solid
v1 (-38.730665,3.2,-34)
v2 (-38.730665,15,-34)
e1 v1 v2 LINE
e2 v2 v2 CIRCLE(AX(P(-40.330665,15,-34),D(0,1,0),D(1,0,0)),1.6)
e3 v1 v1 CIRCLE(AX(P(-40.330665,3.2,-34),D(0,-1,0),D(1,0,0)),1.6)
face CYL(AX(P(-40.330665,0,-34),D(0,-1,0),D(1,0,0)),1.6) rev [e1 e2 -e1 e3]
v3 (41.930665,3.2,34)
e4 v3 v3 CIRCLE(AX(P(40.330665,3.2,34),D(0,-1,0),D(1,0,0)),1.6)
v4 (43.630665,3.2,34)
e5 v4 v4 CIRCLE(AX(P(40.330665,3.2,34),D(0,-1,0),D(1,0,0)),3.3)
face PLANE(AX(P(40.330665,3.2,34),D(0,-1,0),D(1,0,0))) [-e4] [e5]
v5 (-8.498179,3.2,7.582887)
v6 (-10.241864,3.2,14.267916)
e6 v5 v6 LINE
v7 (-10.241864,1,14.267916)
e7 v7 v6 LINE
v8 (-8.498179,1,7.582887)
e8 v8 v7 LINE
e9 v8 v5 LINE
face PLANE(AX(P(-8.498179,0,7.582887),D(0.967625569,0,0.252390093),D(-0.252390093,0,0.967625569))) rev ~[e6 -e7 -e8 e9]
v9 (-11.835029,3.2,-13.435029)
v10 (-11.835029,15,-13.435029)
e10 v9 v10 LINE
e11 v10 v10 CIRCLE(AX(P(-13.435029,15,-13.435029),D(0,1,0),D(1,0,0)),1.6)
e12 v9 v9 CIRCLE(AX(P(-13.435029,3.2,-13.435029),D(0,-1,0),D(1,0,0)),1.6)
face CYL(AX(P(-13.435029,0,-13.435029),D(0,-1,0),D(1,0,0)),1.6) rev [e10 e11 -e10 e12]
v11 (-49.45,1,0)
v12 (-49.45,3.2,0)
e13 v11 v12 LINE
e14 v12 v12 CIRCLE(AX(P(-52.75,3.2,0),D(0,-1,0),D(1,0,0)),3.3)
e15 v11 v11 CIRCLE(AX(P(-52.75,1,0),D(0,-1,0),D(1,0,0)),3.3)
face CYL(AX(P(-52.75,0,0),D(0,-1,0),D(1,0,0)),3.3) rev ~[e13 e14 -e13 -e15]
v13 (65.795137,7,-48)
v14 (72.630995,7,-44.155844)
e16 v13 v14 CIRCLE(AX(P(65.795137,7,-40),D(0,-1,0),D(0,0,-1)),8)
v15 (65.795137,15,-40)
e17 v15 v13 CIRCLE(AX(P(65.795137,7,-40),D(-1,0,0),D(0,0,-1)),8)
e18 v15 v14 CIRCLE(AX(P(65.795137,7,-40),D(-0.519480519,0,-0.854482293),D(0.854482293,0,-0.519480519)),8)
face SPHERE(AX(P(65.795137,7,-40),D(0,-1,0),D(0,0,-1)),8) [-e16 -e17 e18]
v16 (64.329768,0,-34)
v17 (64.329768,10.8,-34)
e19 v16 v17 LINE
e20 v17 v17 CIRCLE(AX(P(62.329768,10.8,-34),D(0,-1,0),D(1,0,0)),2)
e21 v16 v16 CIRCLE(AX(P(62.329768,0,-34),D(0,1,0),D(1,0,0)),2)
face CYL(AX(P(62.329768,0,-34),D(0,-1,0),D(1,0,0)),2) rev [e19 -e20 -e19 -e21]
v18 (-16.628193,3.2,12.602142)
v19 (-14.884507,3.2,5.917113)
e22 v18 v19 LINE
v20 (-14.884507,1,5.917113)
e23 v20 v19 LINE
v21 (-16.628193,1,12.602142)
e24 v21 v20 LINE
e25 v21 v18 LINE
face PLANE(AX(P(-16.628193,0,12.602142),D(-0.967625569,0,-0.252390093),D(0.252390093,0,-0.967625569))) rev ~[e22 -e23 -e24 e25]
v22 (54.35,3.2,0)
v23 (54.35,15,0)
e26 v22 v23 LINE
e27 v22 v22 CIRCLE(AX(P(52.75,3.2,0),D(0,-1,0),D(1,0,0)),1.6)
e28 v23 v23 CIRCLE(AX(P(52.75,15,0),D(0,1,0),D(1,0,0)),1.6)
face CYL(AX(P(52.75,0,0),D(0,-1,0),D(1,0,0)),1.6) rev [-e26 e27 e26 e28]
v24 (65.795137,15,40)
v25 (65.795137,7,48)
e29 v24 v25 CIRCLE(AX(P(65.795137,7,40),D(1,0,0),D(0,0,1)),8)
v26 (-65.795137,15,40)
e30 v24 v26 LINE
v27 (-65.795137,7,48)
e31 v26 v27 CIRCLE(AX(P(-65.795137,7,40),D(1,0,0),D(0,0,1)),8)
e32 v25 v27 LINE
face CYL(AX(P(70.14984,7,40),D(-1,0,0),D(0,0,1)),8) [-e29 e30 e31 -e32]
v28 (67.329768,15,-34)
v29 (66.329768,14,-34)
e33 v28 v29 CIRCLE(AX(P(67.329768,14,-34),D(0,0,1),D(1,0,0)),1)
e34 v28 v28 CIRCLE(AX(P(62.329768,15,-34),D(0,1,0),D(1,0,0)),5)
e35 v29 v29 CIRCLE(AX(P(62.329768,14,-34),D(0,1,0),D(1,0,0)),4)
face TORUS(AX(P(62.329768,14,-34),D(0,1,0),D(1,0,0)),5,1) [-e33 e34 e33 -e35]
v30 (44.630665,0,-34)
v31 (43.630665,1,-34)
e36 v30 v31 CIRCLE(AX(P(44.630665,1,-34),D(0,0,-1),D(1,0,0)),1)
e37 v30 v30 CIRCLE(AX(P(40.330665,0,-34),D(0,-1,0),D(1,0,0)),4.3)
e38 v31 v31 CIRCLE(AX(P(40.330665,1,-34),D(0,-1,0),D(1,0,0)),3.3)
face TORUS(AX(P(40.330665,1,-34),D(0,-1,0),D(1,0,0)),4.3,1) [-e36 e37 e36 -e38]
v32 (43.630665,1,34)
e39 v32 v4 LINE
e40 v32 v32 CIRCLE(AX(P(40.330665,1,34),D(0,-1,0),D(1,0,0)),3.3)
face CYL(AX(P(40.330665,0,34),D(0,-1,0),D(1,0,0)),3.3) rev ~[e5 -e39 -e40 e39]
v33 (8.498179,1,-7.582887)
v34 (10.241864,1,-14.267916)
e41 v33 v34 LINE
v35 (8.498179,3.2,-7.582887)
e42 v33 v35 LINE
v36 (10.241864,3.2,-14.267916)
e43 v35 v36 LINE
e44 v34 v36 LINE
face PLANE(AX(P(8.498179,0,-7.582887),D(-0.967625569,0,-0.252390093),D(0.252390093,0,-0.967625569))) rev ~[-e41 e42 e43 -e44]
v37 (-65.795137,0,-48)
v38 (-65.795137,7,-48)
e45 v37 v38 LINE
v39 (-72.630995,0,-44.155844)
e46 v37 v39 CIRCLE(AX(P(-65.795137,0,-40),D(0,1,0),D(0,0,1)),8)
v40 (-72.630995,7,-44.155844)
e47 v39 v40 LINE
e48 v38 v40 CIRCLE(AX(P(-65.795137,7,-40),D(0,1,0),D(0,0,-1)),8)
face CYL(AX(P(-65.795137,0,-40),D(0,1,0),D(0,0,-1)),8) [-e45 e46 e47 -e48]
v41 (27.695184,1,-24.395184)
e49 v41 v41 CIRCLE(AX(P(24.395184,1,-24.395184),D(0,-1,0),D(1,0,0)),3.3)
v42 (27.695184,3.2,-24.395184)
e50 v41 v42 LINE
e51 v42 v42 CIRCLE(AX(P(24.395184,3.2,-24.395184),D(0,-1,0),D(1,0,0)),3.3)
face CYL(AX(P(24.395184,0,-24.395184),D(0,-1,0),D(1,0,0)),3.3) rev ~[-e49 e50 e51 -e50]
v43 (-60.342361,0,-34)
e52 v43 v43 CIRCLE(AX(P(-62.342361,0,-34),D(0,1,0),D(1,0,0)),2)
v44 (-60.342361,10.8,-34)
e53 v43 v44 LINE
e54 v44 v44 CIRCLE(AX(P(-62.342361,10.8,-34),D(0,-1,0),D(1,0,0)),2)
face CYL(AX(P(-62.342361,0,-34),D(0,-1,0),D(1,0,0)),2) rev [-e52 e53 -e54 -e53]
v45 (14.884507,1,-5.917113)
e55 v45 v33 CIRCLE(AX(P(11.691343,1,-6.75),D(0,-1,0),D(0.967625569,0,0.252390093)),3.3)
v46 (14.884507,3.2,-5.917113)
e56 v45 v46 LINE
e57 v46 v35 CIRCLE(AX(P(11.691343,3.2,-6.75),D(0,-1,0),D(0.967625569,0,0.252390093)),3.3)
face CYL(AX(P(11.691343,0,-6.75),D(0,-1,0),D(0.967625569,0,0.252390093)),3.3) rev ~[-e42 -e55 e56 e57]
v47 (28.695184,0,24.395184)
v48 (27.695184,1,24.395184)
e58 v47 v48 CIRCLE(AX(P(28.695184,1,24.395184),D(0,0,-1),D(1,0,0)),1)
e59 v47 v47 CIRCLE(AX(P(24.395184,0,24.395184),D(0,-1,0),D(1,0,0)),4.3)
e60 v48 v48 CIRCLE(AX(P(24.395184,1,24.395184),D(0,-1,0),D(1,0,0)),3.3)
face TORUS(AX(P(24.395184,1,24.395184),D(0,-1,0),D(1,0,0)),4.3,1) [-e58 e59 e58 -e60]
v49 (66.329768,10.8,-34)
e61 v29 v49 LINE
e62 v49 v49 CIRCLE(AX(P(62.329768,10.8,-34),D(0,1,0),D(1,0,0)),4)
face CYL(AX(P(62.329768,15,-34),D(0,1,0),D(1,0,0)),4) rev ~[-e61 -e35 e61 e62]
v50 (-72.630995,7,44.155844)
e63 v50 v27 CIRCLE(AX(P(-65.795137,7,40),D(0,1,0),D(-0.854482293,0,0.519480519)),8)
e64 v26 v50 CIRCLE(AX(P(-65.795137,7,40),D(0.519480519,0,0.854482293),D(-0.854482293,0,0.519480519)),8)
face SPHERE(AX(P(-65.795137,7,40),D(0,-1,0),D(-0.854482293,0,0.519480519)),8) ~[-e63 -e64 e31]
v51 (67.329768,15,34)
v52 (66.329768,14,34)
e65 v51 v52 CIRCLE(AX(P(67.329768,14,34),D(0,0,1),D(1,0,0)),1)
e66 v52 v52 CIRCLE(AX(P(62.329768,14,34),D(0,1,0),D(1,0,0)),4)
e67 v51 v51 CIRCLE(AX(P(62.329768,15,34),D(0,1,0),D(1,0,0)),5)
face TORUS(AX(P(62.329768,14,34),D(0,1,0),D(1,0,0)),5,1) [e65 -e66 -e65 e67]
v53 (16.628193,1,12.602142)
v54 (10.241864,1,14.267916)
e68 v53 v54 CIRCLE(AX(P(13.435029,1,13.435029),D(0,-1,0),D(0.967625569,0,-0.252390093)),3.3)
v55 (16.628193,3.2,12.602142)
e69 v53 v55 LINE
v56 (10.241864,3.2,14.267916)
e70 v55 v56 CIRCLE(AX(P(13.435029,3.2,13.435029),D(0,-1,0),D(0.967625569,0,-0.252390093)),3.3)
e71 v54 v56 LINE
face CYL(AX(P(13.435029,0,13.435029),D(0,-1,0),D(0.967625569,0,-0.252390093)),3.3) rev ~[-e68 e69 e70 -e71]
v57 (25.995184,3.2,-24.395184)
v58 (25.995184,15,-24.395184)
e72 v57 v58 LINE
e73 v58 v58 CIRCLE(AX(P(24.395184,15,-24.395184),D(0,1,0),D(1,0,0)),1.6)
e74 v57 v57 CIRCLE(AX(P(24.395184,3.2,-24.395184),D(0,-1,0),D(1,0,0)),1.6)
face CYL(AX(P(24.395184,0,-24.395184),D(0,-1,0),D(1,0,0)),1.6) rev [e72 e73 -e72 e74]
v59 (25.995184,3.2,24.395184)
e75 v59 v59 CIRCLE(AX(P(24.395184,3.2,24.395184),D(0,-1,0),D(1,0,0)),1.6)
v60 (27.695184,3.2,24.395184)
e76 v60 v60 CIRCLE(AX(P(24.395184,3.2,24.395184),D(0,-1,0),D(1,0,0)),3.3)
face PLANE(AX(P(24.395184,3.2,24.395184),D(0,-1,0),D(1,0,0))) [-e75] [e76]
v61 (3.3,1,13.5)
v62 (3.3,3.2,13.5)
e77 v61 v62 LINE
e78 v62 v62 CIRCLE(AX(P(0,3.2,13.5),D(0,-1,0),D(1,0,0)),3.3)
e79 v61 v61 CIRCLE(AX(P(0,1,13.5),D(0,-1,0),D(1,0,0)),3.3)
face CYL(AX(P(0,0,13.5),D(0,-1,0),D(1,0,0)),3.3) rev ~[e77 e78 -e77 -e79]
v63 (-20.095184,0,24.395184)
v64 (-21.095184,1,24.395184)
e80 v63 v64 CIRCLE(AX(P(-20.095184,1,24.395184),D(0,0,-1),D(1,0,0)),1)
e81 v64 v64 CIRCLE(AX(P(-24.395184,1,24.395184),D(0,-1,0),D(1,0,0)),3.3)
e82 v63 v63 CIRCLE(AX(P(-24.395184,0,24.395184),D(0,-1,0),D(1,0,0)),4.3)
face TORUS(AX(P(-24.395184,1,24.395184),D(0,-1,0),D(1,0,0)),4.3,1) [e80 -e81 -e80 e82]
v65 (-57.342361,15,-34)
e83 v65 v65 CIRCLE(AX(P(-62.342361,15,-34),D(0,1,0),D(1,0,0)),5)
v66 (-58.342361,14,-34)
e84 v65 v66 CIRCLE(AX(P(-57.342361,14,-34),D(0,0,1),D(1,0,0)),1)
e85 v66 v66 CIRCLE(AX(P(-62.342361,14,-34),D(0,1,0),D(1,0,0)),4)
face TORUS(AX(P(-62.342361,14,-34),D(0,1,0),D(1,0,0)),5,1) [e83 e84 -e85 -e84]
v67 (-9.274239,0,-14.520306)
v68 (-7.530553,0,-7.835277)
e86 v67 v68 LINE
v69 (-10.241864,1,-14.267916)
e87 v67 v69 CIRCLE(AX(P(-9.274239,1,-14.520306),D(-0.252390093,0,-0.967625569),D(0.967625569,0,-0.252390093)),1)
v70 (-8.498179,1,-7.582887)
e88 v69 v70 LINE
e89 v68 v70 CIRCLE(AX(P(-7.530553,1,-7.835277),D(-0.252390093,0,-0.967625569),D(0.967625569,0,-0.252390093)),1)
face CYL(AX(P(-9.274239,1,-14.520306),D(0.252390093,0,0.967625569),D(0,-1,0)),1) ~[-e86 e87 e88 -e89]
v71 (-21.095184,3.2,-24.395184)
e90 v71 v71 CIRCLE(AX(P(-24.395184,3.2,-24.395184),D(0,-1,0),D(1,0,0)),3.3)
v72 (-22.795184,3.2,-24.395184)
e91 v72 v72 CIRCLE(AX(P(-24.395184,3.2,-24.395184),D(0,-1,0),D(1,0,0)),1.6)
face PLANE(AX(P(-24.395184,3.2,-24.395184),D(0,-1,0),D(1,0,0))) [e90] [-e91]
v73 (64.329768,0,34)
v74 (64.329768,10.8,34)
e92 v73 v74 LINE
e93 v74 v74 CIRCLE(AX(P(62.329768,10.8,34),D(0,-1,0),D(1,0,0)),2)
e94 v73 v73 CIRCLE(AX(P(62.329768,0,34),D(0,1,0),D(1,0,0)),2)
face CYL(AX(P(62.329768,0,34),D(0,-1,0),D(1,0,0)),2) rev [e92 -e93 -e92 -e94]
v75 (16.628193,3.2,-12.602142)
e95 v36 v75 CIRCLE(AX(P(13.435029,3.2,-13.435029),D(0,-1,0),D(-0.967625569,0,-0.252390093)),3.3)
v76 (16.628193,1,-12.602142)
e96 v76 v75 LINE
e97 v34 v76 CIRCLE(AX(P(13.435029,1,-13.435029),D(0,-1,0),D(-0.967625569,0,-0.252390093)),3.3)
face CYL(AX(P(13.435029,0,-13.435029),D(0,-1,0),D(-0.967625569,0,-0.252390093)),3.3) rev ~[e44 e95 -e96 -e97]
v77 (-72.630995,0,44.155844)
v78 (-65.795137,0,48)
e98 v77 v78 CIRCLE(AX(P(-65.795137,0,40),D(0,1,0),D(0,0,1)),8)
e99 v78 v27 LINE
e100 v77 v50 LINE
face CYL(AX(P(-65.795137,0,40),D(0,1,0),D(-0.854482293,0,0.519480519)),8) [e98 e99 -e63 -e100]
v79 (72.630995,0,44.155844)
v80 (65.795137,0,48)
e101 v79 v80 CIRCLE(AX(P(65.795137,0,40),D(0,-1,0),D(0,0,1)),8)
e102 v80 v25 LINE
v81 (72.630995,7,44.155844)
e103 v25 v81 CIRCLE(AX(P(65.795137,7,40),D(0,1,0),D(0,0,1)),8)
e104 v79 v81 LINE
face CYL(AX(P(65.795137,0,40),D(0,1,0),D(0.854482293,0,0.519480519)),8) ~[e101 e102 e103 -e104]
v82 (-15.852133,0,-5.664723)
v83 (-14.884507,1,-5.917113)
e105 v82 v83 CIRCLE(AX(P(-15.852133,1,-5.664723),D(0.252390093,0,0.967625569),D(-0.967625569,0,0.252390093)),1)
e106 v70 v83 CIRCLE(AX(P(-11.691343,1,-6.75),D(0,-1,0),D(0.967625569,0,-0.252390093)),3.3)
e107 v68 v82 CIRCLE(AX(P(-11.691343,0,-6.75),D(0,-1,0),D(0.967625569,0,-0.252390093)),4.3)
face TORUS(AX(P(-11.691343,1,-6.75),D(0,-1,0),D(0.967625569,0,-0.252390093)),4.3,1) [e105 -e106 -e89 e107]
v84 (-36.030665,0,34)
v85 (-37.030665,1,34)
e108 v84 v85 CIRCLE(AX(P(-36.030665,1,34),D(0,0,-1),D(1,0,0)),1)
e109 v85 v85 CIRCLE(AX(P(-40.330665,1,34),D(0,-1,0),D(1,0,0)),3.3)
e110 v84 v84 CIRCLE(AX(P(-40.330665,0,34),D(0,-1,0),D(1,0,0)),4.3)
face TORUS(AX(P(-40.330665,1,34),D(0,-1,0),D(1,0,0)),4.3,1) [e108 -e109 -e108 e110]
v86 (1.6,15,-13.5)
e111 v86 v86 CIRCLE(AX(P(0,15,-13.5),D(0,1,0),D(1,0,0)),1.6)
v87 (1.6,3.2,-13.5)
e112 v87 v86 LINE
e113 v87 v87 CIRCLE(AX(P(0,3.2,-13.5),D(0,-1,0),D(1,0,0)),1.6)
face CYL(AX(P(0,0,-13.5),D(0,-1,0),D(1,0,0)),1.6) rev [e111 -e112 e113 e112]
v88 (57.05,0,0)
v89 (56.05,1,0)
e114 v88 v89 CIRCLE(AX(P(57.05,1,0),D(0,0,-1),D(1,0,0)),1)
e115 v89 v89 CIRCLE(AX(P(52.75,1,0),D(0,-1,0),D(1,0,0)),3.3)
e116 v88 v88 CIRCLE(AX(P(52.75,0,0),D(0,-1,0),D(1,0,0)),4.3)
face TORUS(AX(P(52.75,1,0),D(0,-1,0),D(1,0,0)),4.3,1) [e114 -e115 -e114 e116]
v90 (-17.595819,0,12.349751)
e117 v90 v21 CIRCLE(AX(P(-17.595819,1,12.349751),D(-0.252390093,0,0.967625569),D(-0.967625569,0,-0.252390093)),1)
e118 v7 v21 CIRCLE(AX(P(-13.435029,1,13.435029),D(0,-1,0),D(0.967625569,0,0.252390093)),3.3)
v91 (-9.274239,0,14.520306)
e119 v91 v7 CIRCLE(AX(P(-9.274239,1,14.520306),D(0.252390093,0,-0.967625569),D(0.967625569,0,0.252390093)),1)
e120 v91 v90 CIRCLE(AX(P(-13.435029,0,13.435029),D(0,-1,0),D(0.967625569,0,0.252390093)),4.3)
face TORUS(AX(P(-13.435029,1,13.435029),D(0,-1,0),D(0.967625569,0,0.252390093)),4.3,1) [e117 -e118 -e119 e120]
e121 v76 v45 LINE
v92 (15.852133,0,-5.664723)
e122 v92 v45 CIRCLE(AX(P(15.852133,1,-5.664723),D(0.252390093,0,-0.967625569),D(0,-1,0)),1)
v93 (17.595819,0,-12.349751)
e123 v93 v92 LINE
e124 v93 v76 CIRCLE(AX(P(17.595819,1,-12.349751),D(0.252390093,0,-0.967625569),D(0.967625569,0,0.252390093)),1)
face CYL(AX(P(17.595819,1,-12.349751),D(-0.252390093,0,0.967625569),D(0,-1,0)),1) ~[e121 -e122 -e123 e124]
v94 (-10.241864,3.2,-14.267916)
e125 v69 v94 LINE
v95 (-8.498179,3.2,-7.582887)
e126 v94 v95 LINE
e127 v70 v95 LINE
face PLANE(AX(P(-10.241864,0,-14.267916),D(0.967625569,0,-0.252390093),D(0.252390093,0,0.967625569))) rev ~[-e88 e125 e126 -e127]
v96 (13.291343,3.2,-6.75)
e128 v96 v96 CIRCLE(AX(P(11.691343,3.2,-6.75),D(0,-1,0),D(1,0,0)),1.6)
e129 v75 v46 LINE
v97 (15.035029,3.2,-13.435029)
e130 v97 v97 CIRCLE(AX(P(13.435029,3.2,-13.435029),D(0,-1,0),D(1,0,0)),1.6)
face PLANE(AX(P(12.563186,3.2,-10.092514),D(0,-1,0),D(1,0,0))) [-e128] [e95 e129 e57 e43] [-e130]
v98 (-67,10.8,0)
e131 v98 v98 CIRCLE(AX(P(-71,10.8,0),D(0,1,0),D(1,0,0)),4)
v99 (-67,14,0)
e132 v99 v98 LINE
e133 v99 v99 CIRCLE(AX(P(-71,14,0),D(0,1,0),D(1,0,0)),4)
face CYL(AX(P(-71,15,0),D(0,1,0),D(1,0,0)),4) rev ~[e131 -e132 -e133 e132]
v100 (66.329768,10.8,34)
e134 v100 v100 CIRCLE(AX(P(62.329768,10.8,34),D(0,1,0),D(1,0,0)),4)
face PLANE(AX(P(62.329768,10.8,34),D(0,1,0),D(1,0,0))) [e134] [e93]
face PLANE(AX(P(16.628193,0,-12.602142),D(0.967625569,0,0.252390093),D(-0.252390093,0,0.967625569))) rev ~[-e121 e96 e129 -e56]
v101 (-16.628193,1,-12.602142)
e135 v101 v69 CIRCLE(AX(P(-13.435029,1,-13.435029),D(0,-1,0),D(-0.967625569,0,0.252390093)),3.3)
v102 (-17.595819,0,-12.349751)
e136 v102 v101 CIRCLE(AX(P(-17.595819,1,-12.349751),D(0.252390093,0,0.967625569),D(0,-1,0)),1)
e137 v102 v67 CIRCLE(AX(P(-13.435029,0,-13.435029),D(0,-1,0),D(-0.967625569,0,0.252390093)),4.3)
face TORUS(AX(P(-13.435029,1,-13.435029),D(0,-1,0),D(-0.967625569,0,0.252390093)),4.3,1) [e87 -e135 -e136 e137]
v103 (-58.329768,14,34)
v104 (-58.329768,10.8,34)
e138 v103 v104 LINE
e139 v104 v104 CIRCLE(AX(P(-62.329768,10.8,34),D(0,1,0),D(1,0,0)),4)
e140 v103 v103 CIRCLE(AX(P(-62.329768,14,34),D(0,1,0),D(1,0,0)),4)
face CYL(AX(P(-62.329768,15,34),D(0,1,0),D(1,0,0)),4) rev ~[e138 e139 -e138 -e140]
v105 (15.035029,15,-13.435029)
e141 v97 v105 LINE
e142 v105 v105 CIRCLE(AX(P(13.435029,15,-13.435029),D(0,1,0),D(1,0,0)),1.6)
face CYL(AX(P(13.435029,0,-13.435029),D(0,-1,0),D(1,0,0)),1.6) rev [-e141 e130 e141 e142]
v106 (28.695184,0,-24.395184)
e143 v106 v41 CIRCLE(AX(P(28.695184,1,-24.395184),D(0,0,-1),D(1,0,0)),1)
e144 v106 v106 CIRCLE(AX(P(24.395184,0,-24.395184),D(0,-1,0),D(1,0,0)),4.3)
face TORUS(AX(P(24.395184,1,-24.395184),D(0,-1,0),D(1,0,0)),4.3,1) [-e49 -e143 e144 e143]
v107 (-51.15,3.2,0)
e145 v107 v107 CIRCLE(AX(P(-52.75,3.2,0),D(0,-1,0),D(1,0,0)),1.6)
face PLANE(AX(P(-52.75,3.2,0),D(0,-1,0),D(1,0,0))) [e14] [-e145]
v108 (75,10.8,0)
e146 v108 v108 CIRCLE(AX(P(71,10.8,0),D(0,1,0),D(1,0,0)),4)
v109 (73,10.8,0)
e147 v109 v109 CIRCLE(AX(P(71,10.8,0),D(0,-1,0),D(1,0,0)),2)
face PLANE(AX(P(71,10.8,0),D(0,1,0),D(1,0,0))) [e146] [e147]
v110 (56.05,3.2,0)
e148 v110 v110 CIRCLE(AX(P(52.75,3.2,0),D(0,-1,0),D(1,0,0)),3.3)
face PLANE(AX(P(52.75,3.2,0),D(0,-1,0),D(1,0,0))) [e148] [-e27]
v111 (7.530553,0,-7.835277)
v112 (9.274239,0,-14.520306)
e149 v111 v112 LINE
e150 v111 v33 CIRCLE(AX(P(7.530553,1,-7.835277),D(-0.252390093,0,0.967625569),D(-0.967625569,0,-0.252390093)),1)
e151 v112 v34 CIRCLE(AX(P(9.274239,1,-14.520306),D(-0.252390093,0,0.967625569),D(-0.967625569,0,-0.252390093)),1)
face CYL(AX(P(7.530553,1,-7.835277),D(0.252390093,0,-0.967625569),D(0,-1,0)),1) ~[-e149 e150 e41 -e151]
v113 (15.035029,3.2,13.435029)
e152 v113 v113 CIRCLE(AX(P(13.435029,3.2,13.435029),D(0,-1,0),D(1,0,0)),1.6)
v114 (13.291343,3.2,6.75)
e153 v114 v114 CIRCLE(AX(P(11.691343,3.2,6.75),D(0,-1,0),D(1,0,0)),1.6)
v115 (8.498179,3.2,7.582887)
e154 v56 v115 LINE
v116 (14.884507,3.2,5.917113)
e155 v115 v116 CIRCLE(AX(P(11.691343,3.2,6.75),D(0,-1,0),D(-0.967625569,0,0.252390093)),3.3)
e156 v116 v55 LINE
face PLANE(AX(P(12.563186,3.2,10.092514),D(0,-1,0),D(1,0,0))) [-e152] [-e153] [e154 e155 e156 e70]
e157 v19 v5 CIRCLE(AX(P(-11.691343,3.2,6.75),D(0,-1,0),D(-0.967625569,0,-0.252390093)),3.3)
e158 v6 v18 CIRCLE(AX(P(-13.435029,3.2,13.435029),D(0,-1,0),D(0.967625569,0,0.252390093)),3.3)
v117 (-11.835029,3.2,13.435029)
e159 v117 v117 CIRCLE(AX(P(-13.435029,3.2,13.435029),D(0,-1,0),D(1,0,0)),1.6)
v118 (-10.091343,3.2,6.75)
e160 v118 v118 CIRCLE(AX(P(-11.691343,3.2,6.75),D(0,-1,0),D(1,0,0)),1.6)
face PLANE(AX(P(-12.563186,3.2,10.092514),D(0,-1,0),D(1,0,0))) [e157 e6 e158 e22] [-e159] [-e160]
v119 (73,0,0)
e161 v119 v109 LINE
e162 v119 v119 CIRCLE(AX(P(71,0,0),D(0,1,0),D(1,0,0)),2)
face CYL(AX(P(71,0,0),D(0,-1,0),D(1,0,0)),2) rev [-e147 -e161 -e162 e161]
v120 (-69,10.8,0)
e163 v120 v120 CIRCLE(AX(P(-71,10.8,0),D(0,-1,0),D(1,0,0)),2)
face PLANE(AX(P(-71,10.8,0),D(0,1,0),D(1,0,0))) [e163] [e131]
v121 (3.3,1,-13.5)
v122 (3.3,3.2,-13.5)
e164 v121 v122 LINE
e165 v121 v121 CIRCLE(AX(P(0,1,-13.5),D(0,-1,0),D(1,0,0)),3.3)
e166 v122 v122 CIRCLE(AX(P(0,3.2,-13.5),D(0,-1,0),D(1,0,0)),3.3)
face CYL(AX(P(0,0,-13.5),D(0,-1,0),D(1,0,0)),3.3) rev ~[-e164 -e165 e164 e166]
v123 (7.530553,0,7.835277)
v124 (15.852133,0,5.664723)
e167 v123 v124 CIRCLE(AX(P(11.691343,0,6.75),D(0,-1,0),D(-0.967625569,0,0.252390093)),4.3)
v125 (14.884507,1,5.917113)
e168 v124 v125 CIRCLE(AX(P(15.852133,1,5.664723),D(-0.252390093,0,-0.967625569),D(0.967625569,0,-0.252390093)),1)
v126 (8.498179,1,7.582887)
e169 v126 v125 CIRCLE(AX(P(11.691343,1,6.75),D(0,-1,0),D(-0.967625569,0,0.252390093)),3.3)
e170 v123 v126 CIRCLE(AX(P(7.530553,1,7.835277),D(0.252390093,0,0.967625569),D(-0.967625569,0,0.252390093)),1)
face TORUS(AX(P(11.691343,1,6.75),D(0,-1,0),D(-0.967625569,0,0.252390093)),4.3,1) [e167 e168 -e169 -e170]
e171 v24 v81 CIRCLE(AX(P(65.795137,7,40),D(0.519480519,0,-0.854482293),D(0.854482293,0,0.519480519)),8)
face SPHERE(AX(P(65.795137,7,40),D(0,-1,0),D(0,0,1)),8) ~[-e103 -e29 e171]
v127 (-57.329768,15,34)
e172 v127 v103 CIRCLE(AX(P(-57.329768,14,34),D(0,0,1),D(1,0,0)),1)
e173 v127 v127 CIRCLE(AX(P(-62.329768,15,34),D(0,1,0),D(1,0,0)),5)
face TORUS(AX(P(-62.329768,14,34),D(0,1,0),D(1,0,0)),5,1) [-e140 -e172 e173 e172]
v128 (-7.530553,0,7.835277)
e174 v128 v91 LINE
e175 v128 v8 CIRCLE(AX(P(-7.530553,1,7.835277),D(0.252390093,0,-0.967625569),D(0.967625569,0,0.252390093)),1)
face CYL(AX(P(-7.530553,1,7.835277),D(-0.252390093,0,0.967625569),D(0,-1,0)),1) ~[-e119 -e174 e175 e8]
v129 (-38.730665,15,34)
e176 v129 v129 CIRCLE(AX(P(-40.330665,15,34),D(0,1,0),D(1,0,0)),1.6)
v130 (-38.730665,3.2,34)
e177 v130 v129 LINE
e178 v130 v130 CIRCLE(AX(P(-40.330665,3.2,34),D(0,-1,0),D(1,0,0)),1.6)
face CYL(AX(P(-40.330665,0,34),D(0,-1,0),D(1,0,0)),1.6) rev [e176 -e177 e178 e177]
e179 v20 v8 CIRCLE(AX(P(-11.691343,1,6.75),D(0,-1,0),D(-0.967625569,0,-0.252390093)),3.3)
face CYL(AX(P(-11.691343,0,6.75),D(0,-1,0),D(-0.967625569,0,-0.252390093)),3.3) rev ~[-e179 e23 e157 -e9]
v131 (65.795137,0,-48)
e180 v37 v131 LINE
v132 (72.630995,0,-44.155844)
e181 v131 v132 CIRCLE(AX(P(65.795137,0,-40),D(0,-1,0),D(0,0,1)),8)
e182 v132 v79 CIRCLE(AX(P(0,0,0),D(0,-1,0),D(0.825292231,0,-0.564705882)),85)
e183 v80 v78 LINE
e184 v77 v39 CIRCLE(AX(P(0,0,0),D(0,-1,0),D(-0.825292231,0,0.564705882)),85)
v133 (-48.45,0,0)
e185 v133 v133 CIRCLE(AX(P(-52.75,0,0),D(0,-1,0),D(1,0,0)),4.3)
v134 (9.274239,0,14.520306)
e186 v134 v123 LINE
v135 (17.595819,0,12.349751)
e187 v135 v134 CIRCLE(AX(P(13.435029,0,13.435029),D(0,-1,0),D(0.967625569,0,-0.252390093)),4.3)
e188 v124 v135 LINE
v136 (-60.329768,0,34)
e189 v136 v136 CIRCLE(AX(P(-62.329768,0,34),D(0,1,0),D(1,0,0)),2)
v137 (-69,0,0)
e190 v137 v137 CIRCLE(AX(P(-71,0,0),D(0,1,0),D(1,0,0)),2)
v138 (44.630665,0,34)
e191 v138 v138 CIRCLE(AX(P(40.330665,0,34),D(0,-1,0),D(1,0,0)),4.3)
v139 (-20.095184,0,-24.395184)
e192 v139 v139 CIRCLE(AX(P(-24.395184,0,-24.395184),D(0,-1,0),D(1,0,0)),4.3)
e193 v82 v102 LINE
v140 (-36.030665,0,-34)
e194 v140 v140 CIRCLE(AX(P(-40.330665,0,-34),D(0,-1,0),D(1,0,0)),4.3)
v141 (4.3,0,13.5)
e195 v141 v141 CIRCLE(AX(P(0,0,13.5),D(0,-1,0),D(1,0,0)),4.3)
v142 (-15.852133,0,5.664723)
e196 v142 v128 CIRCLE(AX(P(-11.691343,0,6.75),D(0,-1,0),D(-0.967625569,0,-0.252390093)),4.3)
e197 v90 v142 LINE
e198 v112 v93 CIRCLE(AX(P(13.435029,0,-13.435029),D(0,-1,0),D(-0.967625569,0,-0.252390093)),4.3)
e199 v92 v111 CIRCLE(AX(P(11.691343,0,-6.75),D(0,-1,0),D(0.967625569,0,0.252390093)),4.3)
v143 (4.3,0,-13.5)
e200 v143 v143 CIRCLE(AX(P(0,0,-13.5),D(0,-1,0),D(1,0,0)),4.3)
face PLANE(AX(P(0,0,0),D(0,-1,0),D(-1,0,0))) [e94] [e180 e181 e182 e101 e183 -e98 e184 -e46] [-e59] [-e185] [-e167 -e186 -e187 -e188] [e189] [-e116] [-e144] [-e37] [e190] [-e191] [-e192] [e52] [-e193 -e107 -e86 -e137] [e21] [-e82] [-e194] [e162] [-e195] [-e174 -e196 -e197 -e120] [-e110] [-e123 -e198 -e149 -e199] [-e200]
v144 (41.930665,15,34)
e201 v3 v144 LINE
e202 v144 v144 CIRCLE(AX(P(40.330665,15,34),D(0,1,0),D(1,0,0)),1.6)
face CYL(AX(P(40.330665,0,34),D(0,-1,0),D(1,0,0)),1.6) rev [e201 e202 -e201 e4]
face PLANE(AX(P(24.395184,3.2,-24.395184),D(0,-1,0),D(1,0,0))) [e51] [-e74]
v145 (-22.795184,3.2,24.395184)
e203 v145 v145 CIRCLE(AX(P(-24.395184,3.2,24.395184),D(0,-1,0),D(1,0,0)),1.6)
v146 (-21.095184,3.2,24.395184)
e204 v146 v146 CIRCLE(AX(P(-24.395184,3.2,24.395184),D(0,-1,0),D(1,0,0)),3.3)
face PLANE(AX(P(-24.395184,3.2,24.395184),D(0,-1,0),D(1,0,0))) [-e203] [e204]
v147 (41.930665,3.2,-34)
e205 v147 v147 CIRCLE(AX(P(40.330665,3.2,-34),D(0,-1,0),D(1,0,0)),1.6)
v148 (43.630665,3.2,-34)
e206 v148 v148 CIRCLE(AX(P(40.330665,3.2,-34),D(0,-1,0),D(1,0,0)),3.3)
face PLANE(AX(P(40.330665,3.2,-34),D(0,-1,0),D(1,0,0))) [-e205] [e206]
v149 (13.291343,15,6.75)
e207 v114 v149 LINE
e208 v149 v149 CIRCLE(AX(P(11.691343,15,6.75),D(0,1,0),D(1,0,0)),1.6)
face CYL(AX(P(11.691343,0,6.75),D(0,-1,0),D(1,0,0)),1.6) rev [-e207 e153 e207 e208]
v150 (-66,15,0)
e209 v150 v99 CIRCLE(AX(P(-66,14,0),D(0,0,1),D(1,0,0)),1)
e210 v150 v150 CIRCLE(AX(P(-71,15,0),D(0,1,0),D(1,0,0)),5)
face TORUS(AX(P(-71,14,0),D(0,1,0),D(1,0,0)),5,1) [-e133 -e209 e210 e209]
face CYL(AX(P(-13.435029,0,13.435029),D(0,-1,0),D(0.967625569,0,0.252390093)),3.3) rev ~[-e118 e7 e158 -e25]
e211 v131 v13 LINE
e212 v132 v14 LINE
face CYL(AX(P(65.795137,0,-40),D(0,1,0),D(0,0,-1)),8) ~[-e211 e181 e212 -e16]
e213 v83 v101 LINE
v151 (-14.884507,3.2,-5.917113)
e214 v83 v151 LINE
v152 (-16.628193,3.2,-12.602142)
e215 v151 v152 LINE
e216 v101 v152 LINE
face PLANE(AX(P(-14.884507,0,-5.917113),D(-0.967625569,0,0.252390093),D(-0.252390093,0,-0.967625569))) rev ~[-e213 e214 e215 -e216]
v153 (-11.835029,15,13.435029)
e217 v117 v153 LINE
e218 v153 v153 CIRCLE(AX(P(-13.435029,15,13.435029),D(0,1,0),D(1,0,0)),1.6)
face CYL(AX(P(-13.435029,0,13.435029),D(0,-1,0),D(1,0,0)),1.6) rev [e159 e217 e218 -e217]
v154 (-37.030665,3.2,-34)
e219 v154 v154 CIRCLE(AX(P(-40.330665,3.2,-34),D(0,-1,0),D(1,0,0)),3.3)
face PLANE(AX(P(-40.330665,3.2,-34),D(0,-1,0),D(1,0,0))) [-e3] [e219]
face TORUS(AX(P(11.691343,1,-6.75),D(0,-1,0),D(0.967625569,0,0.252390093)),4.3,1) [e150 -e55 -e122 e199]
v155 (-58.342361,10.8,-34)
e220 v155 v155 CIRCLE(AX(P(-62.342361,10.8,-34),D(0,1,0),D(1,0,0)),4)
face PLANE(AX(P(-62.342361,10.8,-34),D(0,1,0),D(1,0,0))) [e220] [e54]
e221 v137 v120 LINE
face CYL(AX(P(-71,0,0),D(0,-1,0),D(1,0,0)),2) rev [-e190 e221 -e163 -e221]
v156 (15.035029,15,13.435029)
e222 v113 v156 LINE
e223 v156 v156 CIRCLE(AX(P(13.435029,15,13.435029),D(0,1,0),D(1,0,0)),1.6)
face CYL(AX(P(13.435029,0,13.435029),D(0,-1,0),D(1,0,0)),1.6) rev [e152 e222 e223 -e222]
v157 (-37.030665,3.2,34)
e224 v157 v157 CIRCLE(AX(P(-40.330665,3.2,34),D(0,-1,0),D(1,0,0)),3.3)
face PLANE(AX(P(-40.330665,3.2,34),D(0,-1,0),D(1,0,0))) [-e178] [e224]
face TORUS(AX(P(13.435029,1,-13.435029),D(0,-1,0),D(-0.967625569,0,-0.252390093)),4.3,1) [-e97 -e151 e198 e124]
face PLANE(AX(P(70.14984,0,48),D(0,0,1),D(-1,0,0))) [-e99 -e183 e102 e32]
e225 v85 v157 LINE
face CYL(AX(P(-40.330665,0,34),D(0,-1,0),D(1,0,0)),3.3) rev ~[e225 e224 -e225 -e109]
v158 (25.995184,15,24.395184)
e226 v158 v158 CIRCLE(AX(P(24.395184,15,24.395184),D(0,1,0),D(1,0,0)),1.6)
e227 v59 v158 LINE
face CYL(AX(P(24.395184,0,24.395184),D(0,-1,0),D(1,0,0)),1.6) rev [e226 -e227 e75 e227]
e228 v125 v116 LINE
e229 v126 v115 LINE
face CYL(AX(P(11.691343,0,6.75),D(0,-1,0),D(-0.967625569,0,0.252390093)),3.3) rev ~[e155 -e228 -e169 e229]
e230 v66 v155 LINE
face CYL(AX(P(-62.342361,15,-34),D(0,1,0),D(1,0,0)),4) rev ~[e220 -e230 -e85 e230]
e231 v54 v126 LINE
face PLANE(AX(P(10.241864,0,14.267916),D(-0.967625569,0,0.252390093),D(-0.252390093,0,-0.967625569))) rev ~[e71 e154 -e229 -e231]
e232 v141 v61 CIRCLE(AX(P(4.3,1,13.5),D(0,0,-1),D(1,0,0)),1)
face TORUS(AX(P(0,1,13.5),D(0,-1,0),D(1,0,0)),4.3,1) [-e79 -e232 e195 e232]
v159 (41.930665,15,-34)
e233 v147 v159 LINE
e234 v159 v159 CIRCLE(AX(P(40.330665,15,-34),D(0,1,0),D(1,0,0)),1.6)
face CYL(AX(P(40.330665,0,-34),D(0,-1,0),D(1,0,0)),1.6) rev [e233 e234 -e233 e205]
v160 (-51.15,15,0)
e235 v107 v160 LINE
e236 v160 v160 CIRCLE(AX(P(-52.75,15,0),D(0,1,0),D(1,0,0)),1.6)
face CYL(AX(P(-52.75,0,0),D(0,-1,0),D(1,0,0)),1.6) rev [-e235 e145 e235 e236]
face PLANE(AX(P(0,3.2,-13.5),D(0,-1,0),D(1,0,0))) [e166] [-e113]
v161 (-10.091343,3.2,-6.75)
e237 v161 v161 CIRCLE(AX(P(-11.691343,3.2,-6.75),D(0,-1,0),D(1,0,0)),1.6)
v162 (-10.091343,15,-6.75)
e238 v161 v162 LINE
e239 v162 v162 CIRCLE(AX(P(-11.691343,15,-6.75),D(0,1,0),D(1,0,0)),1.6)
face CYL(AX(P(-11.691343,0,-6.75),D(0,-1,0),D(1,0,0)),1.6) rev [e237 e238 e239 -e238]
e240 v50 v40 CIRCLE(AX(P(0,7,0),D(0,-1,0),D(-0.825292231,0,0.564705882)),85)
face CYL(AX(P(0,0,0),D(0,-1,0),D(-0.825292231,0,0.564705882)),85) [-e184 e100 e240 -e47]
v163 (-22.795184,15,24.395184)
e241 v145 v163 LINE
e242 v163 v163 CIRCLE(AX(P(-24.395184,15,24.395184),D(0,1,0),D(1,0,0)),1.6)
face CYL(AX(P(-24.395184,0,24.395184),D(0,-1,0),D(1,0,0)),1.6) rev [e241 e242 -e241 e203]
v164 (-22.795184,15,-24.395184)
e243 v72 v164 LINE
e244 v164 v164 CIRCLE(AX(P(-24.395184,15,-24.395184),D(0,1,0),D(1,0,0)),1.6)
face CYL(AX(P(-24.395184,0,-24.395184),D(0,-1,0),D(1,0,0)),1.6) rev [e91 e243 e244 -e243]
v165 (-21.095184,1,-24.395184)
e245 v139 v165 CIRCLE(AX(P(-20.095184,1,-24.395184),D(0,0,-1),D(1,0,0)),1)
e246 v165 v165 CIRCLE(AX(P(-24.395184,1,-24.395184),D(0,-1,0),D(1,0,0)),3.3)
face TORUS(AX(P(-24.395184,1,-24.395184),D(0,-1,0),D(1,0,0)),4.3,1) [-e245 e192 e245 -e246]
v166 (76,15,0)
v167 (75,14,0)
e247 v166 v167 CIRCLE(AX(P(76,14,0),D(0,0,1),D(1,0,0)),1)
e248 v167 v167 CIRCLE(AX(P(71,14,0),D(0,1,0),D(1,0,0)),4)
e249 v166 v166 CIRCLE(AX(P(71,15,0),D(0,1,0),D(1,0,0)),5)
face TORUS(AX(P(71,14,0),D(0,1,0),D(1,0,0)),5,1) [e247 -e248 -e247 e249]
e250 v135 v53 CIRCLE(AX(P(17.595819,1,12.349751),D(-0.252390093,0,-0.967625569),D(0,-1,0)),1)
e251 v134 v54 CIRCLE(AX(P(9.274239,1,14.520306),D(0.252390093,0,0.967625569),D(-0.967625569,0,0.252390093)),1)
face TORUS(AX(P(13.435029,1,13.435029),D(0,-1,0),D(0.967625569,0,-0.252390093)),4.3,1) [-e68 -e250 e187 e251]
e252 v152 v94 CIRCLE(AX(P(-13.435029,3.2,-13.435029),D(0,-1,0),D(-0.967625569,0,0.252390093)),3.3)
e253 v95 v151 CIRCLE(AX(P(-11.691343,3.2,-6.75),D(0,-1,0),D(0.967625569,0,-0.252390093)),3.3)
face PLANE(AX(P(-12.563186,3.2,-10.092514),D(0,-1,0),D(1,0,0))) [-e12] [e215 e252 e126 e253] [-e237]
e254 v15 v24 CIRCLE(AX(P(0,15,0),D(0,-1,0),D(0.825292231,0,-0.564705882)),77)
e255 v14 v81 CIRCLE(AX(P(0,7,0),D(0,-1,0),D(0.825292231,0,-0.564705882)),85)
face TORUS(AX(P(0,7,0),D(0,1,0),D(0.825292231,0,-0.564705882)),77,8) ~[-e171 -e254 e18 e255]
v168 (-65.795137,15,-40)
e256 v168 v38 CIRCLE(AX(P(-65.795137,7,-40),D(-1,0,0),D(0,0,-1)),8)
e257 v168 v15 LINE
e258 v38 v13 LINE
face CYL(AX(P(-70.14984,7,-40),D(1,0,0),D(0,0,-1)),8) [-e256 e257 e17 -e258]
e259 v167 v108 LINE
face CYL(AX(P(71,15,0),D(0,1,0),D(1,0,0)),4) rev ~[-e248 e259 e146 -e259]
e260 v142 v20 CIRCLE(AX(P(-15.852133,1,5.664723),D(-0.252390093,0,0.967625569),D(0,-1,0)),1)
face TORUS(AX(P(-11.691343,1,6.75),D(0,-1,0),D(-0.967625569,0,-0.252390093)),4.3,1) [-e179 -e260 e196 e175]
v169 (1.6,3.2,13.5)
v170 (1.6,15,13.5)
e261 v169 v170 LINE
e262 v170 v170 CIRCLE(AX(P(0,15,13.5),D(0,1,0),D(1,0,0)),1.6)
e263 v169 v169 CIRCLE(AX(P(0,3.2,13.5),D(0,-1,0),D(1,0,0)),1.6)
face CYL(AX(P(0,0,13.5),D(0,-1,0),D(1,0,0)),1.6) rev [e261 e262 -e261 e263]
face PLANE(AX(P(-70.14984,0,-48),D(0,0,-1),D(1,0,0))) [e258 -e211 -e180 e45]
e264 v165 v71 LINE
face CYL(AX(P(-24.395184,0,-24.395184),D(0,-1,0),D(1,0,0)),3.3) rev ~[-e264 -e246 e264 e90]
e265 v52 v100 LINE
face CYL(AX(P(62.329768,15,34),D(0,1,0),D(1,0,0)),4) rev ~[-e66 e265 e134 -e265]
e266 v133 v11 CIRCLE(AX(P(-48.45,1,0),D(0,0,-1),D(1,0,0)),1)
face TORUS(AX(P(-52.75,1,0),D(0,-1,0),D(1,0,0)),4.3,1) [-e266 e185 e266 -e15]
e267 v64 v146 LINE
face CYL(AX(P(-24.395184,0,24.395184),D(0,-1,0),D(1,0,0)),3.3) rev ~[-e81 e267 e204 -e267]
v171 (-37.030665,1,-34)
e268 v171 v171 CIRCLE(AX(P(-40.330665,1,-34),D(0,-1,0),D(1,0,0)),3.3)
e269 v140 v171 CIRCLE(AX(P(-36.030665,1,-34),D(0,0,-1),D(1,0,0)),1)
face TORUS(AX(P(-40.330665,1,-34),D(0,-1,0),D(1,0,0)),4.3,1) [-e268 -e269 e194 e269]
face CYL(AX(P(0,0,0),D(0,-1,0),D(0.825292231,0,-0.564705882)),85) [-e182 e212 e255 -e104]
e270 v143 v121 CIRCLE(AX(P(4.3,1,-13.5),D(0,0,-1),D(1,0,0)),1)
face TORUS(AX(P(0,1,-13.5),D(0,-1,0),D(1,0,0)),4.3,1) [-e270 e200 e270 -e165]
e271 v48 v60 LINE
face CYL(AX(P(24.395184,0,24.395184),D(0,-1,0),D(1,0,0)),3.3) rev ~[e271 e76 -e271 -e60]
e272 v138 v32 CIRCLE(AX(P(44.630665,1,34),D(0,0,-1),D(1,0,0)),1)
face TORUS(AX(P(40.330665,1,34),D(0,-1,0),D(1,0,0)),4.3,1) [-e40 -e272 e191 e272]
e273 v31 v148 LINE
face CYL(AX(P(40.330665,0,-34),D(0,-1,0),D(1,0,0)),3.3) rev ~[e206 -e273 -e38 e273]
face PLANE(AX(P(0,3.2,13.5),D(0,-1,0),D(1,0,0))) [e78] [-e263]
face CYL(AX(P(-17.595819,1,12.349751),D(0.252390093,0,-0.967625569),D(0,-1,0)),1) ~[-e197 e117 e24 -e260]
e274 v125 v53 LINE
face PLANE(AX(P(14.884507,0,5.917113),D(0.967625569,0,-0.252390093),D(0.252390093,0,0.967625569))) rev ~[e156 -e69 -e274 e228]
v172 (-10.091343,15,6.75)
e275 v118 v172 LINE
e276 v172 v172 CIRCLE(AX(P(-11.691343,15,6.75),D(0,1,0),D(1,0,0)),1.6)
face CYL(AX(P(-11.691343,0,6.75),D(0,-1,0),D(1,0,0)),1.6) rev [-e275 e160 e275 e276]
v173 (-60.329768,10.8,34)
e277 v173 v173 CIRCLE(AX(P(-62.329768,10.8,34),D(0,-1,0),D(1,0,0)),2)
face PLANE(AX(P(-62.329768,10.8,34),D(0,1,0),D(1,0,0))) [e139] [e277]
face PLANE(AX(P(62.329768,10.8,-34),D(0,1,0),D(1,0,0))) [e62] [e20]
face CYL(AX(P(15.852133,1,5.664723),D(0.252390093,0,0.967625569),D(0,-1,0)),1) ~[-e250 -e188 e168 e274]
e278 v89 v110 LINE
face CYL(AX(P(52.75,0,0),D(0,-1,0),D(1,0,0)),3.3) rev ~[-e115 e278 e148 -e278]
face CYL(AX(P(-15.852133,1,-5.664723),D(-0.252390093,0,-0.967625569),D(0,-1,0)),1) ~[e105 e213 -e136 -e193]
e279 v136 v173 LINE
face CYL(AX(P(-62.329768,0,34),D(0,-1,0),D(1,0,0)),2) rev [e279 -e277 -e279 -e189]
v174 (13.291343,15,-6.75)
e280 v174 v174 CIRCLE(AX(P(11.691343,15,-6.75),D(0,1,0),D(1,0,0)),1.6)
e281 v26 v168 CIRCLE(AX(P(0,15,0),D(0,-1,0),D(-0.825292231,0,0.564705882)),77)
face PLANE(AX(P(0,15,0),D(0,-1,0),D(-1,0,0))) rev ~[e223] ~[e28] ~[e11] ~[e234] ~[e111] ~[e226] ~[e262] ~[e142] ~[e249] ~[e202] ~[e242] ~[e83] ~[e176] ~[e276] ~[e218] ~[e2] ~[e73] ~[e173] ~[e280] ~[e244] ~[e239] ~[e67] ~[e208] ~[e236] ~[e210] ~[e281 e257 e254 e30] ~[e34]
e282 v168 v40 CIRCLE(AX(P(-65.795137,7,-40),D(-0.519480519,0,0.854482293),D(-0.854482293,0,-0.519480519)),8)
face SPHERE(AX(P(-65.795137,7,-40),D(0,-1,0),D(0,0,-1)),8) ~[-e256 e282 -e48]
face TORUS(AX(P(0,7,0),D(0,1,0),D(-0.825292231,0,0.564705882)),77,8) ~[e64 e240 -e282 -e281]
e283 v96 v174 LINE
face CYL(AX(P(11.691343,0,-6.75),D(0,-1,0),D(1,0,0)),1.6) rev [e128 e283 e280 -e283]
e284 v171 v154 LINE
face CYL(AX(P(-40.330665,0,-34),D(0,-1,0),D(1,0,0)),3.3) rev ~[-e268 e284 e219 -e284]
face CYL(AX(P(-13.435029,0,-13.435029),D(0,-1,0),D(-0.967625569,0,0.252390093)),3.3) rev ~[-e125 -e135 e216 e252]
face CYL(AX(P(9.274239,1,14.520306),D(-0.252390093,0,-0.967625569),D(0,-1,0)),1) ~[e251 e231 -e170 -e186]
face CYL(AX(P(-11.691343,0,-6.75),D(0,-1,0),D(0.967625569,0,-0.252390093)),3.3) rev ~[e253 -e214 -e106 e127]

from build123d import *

# Parameters (mm, degrees)
SKETCH_1_R          = 1.6
SKETCH_1_R_2        = 2
EXTRUDE_1_DEPTH     = 15
FILLET_1_R          = 8
SKETCH_2_R          = 4
CUT_EXTRUDE_1_DEPTH = 4.2
SKETCH_3_R          = 3.3
CUT_EXTRUDE_2_DEPTH = 3.2
FILLET_2_R          = 1


with BuildPart() as part:
    # 草图1 → 凸台-拉伸1 (new body)
    with BuildSketch(Plane(origin=(0, 0, 0), x_dir=(1, 0, 0), z_dir=(0, 1, 0))):
        with BuildLine():
            Line((-70.149839629, 48), (70.149839629, 48))
            ThreePointArc((70.149839629, 48), (85, 0), (70.149839629, -48))
            Line((70.149839629, -48), (-70.149839629, -48))
            ThreePointArc((-70.149839629, -48), (-85, 0), (-70.149839629, 48))
        make_face()
        with Locations((0, 13.5)):
            Circle(SKETCH_1_R, mode=Mode.SUBTRACT)
        with Locations((-11.691342951, 6.75)):
            Circle(SKETCH_1_R, mode=Mode.SUBTRACT)
        with Locations((11.691342951, 6.75)):
            Circle(SKETCH_1_R, mode=Mode.SUBTRACT)
        with Locations((11.691342951, -6.75)):
            Circle(SKETCH_1_R, mode=Mode.SUBTRACT)
        with Locations((-11.691342951, -6.75)):
            Circle(SKETCH_1_R, mode=Mode.SUBTRACT)
        with Locations((0, -13.5)):
            Circle(SKETCH_1_R, mode=Mode.SUBTRACT)
        with Locations((-62.342360606, 34)):
            Circle(SKETCH_1_R_2, mode=Mode.SUBTRACT)
        with Locations((-71, 0)):
            Circle(SKETCH_1_R_2, mode=Mode.SUBTRACT)
        with Locations((-62.329768169, -34)):
            Circle(SKETCH_1_R_2, mode=Mode.SUBTRACT)
        with Locations((71, 0)):
            Circle(SKETCH_1_R_2, mode=Mode.SUBTRACT)
        with Locations((62.329768169, -34)):
            Circle(SKETCH_1_R_2, mode=Mode.SUBTRACT)
        with Locations((62.329768169, 34)):
            Circle(SKETCH_1_R_2, mode=Mode.SUBTRACT)
        with Locations((-24.395183951, 24.395183951)):
            Circle(SKETCH_1_R, mode=Mode.SUBTRACT)
        with Locations((24.395183951, 24.395183951)):
            Circle(SKETCH_1_R, mode=Mode.SUBTRACT)
        with Locations((24.395183951, -24.395183951)):
            Circle(SKETCH_1_R, mode=Mode.SUBTRACT)
        with Locations((-24.395183951, -24.395183951)):
            Circle(SKETCH_1_R, mode=Mode.SUBTRACT)
        with Locations((13.435028843, 13.435028843)):
            Circle(SKETCH_1_R, mode=Mode.SUBTRACT)
        with Locations((-13.435028843, 13.435028843)):
            Circle(SKETCH_1_R, mode=Mode.SUBTRACT)
        with Locations((-13.435028843, -13.435028843)):
            Circle(SKETCH_1_R, mode=Mode.SUBTRACT)
        with Locations((13.435028843, -13.435028843)):
            Circle(SKETCH_1_R, mode=Mode.SUBTRACT)
        with Locations((-40.330664512, 34)):
            Circle(SKETCH_1_R, mode=Mode.SUBTRACT)
        with Locations((-52.75, 0)):
            Circle(SKETCH_1_R, mode=Mode.SUBTRACT)
        with Locations((-40.330664512, -34)):
            Circle(SKETCH_1_R, mode=Mode.SUBTRACT)
        with Locations((40.330664512, 34)):
            Circle(SKETCH_1_R, mode=Mode.SUBTRACT)
        with Locations((52.75, 0)):
            Circle(SKETCH_1_R, mode=Mode.SUBTRACT)
        with Locations((40.330664512, -34)):
            Circle(SKETCH_1_R, mode=Mode.SUBTRACT)
    extrude(amount=EXTRUDE_1_DEPTH)

    # 圆角1
    fillet_1_edges = [part.edges().sort_by_distance(p)[0] for p in [
        (-85, 15, 0),
        (0, 15, 48),
        (85, 15, 0),
        (70.149839629, 7.5, 48),
        (-70.149839629, 7.5, 48),
        (-70.149839629, 7.5, -48),
        (70.149839629, 7.5, -48),
        (0, 15, -48),
    ]]
    fillet(fillet_1_edges, radius=FILLET_1_R)

    # 草图2 → 切除-拉伸1 (cut)
    with BuildSketch(Plane(origin=(0, 15, 0), x_dir=(1, 0, 0), z_dir=(0, 1, 0))):
        with Locations((-62.342360606, 34)):
            Circle(SKETCH_2_R)
        with Locations((-71, 0)):
            Circle(SKETCH_2_R)
        with Locations((-62.329768169, -34)):
            Circle(SKETCH_2_R)
        with Locations((62.329768169, 34)):
            Circle(SKETCH_2_R)
        with Locations((71, 0)):
            Circle(SKETCH_2_R)
        with Locations((62.329768169, -34)):
            Circle(SKETCH_2_R)
    extrude(amount=-CUT_EXTRUDE_1_DEPTH, mode=Mode.SUBTRACT)

    # 草图3 → 切除-拉伸2 (cut)
    with BuildSketch(Plane.XZ):
        with Locations((0, 13.5)):
            Circle(SKETCH_3_R)
        with Locations((-24.395183951, 24.395183951)):
            Circle(SKETCH_3_R)
        with Locations((-24.395183951, -24.395183951)):
            Circle(SKETCH_3_R)
        with Locations((0, -13.5)):
            Circle(SKETCH_3_R)
        with Locations((24.395183951, -24.395183951)):
            Circle(SKETCH_3_R)
        with Locations((24.395183951, 24.395183951)):
            Circle(SKETCH_3_R)
        with Locations((-40.330664512, 34)):
            Circle(SKETCH_3_R)
        with Locations((-52.75, 0)):
            Circle(SKETCH_3_R)
        with Locations((-40.330664512, -34)):
            Circle(SKETCH_3_R)
        with Locations((40.330664512, 34)):
            Circle(SKETCH_3_R)
        with Locations((52.75, 0)):
            Circle(SKETCH_3_R)
        with Locations((40.330664512, -34)):
            Circle(SKETCH_3_R)
        with BuildLine():
            Line((-16.628193219, 12.602141535), (-14.884507327, 5.917112693))
            ThreePointArc((-14.884507327, 5.917112693), (-10.858455644, 3.556835624), (-8.498178575, 7.582887307))
            Line((-8.498178575, 7.582887307), (-10.241864466, 14.26791615))
            ThreePointArc((-10.241864466, 14.26791615), (-14.26791615, 16.628193219), (-16.628193219, 12.602141535))
        make_face()
        with BuildLine():
            Line((10.241864466, 14.26791615), (8.498178575, 7.582887307))
            ThreePointArc((8.498178575, 7.582887307), (10.858455644, 3.556835624), (14.884507327, 5.917112693))
            Line((14.884507327, 5.917112693), (16.628193219, 12.602141535))
            ThreePointArc((16.628193219, 12.602141535), (14.26791615, 16.628193219), (10.241864466, 14.26791615))
        make_face()
        with BuildLine():
            Line((16.628193219, -12.602141535), (14.884507327, -5.917112693))
            ThreePointArc((14.884507327, -5.917112693), (10.858455644, -3.556835624), (8.498178575, -7.582887307))
            Line((8.498178575, -7.582887307), (10.241864466, -14.26791615))
            ThreePointArc((10.241864466, -14.26791615), (14.26791615, -16.628193219), (16.628193219, -12.602141535))
        make_face()
        with BuildLine():
            Line((-10.241864466, -14.26791615), (-8.498178575, -7.582887307))
            ThreePointArc((-8.498178575, -7.582887307), (-10.858455644, -3.556835624), (-14.884507327, -5.917112693))
            Line((-14.884507327, -5.917112693), (-16.628193219, -12.602141535))
            ThreePointArc((-16.628193219, -12.602141535), (-14.26791615, -16.628193219), (-10.241864466, -14.26791615))
        make_face()
    extrude(amount=-CUT_EXTRUDE_2_DEPTH, mode=Mode.SUBTRACT)

    # 圆角2
    fillet_2_edges = [part.edges().sort_by_distance(p)[0] for p in [
        (-75, 15, 0),
        (-66.329768169, 15, 34),
        (58.329768169, 15, -34),
        (67, 15, 0),
        (58.329768169, 15, 34),
        (-66.342360606, 15, -34),
        (-43.630664512, 0, 34),
        (21.095183951, 0, -24.395183951),
        (21.095183951, 0, 24.395183951),
        (10.858455644, 0, 3.556835624),
        (15.756350273, 0, 9.259627114),
        (14.26791615, 0, 16.628193219),
        (9.370021521, 0, 10.925401729),
        (-14.26791615, 0, 16.628193219),
        (-15.756350273, 0, 9.259627114),
        (-10.858455644, 0, 3.556835624),
        (-9.370021521, 0, 10.925401729),
        (-3.3, 0, -13.5),
        (-27.695183951, 0, -24.395183951),
        (-27.695183951, 0, 24.395183951),
        (14.26791615, 0, -16.628193219),
        (15.756350273, 0, -9.259627114),
        (10.858455644, 0, -3.556835624),
        (9.370021521, 0, -10.925401729),
        (-10.858455644, 0, -3.556835624),
        (-15.756350273, 0, -9.259627114),
        (-14.26791615, 0, -16.628193219),
        (-9.370021521, 0, -10.925401729),
        (-56.05, 0, 0),
        (-43.630664512, 0, -34),
        (37.030664512, 0, 34),
        (49.45, 0, 0),
        (37.030664512, 0, -34),
        (-3.3, 0, 13.5),
    ]]
    fillet(fillet_2_edges, radius=FILLET_2_R)


solid = part.part
